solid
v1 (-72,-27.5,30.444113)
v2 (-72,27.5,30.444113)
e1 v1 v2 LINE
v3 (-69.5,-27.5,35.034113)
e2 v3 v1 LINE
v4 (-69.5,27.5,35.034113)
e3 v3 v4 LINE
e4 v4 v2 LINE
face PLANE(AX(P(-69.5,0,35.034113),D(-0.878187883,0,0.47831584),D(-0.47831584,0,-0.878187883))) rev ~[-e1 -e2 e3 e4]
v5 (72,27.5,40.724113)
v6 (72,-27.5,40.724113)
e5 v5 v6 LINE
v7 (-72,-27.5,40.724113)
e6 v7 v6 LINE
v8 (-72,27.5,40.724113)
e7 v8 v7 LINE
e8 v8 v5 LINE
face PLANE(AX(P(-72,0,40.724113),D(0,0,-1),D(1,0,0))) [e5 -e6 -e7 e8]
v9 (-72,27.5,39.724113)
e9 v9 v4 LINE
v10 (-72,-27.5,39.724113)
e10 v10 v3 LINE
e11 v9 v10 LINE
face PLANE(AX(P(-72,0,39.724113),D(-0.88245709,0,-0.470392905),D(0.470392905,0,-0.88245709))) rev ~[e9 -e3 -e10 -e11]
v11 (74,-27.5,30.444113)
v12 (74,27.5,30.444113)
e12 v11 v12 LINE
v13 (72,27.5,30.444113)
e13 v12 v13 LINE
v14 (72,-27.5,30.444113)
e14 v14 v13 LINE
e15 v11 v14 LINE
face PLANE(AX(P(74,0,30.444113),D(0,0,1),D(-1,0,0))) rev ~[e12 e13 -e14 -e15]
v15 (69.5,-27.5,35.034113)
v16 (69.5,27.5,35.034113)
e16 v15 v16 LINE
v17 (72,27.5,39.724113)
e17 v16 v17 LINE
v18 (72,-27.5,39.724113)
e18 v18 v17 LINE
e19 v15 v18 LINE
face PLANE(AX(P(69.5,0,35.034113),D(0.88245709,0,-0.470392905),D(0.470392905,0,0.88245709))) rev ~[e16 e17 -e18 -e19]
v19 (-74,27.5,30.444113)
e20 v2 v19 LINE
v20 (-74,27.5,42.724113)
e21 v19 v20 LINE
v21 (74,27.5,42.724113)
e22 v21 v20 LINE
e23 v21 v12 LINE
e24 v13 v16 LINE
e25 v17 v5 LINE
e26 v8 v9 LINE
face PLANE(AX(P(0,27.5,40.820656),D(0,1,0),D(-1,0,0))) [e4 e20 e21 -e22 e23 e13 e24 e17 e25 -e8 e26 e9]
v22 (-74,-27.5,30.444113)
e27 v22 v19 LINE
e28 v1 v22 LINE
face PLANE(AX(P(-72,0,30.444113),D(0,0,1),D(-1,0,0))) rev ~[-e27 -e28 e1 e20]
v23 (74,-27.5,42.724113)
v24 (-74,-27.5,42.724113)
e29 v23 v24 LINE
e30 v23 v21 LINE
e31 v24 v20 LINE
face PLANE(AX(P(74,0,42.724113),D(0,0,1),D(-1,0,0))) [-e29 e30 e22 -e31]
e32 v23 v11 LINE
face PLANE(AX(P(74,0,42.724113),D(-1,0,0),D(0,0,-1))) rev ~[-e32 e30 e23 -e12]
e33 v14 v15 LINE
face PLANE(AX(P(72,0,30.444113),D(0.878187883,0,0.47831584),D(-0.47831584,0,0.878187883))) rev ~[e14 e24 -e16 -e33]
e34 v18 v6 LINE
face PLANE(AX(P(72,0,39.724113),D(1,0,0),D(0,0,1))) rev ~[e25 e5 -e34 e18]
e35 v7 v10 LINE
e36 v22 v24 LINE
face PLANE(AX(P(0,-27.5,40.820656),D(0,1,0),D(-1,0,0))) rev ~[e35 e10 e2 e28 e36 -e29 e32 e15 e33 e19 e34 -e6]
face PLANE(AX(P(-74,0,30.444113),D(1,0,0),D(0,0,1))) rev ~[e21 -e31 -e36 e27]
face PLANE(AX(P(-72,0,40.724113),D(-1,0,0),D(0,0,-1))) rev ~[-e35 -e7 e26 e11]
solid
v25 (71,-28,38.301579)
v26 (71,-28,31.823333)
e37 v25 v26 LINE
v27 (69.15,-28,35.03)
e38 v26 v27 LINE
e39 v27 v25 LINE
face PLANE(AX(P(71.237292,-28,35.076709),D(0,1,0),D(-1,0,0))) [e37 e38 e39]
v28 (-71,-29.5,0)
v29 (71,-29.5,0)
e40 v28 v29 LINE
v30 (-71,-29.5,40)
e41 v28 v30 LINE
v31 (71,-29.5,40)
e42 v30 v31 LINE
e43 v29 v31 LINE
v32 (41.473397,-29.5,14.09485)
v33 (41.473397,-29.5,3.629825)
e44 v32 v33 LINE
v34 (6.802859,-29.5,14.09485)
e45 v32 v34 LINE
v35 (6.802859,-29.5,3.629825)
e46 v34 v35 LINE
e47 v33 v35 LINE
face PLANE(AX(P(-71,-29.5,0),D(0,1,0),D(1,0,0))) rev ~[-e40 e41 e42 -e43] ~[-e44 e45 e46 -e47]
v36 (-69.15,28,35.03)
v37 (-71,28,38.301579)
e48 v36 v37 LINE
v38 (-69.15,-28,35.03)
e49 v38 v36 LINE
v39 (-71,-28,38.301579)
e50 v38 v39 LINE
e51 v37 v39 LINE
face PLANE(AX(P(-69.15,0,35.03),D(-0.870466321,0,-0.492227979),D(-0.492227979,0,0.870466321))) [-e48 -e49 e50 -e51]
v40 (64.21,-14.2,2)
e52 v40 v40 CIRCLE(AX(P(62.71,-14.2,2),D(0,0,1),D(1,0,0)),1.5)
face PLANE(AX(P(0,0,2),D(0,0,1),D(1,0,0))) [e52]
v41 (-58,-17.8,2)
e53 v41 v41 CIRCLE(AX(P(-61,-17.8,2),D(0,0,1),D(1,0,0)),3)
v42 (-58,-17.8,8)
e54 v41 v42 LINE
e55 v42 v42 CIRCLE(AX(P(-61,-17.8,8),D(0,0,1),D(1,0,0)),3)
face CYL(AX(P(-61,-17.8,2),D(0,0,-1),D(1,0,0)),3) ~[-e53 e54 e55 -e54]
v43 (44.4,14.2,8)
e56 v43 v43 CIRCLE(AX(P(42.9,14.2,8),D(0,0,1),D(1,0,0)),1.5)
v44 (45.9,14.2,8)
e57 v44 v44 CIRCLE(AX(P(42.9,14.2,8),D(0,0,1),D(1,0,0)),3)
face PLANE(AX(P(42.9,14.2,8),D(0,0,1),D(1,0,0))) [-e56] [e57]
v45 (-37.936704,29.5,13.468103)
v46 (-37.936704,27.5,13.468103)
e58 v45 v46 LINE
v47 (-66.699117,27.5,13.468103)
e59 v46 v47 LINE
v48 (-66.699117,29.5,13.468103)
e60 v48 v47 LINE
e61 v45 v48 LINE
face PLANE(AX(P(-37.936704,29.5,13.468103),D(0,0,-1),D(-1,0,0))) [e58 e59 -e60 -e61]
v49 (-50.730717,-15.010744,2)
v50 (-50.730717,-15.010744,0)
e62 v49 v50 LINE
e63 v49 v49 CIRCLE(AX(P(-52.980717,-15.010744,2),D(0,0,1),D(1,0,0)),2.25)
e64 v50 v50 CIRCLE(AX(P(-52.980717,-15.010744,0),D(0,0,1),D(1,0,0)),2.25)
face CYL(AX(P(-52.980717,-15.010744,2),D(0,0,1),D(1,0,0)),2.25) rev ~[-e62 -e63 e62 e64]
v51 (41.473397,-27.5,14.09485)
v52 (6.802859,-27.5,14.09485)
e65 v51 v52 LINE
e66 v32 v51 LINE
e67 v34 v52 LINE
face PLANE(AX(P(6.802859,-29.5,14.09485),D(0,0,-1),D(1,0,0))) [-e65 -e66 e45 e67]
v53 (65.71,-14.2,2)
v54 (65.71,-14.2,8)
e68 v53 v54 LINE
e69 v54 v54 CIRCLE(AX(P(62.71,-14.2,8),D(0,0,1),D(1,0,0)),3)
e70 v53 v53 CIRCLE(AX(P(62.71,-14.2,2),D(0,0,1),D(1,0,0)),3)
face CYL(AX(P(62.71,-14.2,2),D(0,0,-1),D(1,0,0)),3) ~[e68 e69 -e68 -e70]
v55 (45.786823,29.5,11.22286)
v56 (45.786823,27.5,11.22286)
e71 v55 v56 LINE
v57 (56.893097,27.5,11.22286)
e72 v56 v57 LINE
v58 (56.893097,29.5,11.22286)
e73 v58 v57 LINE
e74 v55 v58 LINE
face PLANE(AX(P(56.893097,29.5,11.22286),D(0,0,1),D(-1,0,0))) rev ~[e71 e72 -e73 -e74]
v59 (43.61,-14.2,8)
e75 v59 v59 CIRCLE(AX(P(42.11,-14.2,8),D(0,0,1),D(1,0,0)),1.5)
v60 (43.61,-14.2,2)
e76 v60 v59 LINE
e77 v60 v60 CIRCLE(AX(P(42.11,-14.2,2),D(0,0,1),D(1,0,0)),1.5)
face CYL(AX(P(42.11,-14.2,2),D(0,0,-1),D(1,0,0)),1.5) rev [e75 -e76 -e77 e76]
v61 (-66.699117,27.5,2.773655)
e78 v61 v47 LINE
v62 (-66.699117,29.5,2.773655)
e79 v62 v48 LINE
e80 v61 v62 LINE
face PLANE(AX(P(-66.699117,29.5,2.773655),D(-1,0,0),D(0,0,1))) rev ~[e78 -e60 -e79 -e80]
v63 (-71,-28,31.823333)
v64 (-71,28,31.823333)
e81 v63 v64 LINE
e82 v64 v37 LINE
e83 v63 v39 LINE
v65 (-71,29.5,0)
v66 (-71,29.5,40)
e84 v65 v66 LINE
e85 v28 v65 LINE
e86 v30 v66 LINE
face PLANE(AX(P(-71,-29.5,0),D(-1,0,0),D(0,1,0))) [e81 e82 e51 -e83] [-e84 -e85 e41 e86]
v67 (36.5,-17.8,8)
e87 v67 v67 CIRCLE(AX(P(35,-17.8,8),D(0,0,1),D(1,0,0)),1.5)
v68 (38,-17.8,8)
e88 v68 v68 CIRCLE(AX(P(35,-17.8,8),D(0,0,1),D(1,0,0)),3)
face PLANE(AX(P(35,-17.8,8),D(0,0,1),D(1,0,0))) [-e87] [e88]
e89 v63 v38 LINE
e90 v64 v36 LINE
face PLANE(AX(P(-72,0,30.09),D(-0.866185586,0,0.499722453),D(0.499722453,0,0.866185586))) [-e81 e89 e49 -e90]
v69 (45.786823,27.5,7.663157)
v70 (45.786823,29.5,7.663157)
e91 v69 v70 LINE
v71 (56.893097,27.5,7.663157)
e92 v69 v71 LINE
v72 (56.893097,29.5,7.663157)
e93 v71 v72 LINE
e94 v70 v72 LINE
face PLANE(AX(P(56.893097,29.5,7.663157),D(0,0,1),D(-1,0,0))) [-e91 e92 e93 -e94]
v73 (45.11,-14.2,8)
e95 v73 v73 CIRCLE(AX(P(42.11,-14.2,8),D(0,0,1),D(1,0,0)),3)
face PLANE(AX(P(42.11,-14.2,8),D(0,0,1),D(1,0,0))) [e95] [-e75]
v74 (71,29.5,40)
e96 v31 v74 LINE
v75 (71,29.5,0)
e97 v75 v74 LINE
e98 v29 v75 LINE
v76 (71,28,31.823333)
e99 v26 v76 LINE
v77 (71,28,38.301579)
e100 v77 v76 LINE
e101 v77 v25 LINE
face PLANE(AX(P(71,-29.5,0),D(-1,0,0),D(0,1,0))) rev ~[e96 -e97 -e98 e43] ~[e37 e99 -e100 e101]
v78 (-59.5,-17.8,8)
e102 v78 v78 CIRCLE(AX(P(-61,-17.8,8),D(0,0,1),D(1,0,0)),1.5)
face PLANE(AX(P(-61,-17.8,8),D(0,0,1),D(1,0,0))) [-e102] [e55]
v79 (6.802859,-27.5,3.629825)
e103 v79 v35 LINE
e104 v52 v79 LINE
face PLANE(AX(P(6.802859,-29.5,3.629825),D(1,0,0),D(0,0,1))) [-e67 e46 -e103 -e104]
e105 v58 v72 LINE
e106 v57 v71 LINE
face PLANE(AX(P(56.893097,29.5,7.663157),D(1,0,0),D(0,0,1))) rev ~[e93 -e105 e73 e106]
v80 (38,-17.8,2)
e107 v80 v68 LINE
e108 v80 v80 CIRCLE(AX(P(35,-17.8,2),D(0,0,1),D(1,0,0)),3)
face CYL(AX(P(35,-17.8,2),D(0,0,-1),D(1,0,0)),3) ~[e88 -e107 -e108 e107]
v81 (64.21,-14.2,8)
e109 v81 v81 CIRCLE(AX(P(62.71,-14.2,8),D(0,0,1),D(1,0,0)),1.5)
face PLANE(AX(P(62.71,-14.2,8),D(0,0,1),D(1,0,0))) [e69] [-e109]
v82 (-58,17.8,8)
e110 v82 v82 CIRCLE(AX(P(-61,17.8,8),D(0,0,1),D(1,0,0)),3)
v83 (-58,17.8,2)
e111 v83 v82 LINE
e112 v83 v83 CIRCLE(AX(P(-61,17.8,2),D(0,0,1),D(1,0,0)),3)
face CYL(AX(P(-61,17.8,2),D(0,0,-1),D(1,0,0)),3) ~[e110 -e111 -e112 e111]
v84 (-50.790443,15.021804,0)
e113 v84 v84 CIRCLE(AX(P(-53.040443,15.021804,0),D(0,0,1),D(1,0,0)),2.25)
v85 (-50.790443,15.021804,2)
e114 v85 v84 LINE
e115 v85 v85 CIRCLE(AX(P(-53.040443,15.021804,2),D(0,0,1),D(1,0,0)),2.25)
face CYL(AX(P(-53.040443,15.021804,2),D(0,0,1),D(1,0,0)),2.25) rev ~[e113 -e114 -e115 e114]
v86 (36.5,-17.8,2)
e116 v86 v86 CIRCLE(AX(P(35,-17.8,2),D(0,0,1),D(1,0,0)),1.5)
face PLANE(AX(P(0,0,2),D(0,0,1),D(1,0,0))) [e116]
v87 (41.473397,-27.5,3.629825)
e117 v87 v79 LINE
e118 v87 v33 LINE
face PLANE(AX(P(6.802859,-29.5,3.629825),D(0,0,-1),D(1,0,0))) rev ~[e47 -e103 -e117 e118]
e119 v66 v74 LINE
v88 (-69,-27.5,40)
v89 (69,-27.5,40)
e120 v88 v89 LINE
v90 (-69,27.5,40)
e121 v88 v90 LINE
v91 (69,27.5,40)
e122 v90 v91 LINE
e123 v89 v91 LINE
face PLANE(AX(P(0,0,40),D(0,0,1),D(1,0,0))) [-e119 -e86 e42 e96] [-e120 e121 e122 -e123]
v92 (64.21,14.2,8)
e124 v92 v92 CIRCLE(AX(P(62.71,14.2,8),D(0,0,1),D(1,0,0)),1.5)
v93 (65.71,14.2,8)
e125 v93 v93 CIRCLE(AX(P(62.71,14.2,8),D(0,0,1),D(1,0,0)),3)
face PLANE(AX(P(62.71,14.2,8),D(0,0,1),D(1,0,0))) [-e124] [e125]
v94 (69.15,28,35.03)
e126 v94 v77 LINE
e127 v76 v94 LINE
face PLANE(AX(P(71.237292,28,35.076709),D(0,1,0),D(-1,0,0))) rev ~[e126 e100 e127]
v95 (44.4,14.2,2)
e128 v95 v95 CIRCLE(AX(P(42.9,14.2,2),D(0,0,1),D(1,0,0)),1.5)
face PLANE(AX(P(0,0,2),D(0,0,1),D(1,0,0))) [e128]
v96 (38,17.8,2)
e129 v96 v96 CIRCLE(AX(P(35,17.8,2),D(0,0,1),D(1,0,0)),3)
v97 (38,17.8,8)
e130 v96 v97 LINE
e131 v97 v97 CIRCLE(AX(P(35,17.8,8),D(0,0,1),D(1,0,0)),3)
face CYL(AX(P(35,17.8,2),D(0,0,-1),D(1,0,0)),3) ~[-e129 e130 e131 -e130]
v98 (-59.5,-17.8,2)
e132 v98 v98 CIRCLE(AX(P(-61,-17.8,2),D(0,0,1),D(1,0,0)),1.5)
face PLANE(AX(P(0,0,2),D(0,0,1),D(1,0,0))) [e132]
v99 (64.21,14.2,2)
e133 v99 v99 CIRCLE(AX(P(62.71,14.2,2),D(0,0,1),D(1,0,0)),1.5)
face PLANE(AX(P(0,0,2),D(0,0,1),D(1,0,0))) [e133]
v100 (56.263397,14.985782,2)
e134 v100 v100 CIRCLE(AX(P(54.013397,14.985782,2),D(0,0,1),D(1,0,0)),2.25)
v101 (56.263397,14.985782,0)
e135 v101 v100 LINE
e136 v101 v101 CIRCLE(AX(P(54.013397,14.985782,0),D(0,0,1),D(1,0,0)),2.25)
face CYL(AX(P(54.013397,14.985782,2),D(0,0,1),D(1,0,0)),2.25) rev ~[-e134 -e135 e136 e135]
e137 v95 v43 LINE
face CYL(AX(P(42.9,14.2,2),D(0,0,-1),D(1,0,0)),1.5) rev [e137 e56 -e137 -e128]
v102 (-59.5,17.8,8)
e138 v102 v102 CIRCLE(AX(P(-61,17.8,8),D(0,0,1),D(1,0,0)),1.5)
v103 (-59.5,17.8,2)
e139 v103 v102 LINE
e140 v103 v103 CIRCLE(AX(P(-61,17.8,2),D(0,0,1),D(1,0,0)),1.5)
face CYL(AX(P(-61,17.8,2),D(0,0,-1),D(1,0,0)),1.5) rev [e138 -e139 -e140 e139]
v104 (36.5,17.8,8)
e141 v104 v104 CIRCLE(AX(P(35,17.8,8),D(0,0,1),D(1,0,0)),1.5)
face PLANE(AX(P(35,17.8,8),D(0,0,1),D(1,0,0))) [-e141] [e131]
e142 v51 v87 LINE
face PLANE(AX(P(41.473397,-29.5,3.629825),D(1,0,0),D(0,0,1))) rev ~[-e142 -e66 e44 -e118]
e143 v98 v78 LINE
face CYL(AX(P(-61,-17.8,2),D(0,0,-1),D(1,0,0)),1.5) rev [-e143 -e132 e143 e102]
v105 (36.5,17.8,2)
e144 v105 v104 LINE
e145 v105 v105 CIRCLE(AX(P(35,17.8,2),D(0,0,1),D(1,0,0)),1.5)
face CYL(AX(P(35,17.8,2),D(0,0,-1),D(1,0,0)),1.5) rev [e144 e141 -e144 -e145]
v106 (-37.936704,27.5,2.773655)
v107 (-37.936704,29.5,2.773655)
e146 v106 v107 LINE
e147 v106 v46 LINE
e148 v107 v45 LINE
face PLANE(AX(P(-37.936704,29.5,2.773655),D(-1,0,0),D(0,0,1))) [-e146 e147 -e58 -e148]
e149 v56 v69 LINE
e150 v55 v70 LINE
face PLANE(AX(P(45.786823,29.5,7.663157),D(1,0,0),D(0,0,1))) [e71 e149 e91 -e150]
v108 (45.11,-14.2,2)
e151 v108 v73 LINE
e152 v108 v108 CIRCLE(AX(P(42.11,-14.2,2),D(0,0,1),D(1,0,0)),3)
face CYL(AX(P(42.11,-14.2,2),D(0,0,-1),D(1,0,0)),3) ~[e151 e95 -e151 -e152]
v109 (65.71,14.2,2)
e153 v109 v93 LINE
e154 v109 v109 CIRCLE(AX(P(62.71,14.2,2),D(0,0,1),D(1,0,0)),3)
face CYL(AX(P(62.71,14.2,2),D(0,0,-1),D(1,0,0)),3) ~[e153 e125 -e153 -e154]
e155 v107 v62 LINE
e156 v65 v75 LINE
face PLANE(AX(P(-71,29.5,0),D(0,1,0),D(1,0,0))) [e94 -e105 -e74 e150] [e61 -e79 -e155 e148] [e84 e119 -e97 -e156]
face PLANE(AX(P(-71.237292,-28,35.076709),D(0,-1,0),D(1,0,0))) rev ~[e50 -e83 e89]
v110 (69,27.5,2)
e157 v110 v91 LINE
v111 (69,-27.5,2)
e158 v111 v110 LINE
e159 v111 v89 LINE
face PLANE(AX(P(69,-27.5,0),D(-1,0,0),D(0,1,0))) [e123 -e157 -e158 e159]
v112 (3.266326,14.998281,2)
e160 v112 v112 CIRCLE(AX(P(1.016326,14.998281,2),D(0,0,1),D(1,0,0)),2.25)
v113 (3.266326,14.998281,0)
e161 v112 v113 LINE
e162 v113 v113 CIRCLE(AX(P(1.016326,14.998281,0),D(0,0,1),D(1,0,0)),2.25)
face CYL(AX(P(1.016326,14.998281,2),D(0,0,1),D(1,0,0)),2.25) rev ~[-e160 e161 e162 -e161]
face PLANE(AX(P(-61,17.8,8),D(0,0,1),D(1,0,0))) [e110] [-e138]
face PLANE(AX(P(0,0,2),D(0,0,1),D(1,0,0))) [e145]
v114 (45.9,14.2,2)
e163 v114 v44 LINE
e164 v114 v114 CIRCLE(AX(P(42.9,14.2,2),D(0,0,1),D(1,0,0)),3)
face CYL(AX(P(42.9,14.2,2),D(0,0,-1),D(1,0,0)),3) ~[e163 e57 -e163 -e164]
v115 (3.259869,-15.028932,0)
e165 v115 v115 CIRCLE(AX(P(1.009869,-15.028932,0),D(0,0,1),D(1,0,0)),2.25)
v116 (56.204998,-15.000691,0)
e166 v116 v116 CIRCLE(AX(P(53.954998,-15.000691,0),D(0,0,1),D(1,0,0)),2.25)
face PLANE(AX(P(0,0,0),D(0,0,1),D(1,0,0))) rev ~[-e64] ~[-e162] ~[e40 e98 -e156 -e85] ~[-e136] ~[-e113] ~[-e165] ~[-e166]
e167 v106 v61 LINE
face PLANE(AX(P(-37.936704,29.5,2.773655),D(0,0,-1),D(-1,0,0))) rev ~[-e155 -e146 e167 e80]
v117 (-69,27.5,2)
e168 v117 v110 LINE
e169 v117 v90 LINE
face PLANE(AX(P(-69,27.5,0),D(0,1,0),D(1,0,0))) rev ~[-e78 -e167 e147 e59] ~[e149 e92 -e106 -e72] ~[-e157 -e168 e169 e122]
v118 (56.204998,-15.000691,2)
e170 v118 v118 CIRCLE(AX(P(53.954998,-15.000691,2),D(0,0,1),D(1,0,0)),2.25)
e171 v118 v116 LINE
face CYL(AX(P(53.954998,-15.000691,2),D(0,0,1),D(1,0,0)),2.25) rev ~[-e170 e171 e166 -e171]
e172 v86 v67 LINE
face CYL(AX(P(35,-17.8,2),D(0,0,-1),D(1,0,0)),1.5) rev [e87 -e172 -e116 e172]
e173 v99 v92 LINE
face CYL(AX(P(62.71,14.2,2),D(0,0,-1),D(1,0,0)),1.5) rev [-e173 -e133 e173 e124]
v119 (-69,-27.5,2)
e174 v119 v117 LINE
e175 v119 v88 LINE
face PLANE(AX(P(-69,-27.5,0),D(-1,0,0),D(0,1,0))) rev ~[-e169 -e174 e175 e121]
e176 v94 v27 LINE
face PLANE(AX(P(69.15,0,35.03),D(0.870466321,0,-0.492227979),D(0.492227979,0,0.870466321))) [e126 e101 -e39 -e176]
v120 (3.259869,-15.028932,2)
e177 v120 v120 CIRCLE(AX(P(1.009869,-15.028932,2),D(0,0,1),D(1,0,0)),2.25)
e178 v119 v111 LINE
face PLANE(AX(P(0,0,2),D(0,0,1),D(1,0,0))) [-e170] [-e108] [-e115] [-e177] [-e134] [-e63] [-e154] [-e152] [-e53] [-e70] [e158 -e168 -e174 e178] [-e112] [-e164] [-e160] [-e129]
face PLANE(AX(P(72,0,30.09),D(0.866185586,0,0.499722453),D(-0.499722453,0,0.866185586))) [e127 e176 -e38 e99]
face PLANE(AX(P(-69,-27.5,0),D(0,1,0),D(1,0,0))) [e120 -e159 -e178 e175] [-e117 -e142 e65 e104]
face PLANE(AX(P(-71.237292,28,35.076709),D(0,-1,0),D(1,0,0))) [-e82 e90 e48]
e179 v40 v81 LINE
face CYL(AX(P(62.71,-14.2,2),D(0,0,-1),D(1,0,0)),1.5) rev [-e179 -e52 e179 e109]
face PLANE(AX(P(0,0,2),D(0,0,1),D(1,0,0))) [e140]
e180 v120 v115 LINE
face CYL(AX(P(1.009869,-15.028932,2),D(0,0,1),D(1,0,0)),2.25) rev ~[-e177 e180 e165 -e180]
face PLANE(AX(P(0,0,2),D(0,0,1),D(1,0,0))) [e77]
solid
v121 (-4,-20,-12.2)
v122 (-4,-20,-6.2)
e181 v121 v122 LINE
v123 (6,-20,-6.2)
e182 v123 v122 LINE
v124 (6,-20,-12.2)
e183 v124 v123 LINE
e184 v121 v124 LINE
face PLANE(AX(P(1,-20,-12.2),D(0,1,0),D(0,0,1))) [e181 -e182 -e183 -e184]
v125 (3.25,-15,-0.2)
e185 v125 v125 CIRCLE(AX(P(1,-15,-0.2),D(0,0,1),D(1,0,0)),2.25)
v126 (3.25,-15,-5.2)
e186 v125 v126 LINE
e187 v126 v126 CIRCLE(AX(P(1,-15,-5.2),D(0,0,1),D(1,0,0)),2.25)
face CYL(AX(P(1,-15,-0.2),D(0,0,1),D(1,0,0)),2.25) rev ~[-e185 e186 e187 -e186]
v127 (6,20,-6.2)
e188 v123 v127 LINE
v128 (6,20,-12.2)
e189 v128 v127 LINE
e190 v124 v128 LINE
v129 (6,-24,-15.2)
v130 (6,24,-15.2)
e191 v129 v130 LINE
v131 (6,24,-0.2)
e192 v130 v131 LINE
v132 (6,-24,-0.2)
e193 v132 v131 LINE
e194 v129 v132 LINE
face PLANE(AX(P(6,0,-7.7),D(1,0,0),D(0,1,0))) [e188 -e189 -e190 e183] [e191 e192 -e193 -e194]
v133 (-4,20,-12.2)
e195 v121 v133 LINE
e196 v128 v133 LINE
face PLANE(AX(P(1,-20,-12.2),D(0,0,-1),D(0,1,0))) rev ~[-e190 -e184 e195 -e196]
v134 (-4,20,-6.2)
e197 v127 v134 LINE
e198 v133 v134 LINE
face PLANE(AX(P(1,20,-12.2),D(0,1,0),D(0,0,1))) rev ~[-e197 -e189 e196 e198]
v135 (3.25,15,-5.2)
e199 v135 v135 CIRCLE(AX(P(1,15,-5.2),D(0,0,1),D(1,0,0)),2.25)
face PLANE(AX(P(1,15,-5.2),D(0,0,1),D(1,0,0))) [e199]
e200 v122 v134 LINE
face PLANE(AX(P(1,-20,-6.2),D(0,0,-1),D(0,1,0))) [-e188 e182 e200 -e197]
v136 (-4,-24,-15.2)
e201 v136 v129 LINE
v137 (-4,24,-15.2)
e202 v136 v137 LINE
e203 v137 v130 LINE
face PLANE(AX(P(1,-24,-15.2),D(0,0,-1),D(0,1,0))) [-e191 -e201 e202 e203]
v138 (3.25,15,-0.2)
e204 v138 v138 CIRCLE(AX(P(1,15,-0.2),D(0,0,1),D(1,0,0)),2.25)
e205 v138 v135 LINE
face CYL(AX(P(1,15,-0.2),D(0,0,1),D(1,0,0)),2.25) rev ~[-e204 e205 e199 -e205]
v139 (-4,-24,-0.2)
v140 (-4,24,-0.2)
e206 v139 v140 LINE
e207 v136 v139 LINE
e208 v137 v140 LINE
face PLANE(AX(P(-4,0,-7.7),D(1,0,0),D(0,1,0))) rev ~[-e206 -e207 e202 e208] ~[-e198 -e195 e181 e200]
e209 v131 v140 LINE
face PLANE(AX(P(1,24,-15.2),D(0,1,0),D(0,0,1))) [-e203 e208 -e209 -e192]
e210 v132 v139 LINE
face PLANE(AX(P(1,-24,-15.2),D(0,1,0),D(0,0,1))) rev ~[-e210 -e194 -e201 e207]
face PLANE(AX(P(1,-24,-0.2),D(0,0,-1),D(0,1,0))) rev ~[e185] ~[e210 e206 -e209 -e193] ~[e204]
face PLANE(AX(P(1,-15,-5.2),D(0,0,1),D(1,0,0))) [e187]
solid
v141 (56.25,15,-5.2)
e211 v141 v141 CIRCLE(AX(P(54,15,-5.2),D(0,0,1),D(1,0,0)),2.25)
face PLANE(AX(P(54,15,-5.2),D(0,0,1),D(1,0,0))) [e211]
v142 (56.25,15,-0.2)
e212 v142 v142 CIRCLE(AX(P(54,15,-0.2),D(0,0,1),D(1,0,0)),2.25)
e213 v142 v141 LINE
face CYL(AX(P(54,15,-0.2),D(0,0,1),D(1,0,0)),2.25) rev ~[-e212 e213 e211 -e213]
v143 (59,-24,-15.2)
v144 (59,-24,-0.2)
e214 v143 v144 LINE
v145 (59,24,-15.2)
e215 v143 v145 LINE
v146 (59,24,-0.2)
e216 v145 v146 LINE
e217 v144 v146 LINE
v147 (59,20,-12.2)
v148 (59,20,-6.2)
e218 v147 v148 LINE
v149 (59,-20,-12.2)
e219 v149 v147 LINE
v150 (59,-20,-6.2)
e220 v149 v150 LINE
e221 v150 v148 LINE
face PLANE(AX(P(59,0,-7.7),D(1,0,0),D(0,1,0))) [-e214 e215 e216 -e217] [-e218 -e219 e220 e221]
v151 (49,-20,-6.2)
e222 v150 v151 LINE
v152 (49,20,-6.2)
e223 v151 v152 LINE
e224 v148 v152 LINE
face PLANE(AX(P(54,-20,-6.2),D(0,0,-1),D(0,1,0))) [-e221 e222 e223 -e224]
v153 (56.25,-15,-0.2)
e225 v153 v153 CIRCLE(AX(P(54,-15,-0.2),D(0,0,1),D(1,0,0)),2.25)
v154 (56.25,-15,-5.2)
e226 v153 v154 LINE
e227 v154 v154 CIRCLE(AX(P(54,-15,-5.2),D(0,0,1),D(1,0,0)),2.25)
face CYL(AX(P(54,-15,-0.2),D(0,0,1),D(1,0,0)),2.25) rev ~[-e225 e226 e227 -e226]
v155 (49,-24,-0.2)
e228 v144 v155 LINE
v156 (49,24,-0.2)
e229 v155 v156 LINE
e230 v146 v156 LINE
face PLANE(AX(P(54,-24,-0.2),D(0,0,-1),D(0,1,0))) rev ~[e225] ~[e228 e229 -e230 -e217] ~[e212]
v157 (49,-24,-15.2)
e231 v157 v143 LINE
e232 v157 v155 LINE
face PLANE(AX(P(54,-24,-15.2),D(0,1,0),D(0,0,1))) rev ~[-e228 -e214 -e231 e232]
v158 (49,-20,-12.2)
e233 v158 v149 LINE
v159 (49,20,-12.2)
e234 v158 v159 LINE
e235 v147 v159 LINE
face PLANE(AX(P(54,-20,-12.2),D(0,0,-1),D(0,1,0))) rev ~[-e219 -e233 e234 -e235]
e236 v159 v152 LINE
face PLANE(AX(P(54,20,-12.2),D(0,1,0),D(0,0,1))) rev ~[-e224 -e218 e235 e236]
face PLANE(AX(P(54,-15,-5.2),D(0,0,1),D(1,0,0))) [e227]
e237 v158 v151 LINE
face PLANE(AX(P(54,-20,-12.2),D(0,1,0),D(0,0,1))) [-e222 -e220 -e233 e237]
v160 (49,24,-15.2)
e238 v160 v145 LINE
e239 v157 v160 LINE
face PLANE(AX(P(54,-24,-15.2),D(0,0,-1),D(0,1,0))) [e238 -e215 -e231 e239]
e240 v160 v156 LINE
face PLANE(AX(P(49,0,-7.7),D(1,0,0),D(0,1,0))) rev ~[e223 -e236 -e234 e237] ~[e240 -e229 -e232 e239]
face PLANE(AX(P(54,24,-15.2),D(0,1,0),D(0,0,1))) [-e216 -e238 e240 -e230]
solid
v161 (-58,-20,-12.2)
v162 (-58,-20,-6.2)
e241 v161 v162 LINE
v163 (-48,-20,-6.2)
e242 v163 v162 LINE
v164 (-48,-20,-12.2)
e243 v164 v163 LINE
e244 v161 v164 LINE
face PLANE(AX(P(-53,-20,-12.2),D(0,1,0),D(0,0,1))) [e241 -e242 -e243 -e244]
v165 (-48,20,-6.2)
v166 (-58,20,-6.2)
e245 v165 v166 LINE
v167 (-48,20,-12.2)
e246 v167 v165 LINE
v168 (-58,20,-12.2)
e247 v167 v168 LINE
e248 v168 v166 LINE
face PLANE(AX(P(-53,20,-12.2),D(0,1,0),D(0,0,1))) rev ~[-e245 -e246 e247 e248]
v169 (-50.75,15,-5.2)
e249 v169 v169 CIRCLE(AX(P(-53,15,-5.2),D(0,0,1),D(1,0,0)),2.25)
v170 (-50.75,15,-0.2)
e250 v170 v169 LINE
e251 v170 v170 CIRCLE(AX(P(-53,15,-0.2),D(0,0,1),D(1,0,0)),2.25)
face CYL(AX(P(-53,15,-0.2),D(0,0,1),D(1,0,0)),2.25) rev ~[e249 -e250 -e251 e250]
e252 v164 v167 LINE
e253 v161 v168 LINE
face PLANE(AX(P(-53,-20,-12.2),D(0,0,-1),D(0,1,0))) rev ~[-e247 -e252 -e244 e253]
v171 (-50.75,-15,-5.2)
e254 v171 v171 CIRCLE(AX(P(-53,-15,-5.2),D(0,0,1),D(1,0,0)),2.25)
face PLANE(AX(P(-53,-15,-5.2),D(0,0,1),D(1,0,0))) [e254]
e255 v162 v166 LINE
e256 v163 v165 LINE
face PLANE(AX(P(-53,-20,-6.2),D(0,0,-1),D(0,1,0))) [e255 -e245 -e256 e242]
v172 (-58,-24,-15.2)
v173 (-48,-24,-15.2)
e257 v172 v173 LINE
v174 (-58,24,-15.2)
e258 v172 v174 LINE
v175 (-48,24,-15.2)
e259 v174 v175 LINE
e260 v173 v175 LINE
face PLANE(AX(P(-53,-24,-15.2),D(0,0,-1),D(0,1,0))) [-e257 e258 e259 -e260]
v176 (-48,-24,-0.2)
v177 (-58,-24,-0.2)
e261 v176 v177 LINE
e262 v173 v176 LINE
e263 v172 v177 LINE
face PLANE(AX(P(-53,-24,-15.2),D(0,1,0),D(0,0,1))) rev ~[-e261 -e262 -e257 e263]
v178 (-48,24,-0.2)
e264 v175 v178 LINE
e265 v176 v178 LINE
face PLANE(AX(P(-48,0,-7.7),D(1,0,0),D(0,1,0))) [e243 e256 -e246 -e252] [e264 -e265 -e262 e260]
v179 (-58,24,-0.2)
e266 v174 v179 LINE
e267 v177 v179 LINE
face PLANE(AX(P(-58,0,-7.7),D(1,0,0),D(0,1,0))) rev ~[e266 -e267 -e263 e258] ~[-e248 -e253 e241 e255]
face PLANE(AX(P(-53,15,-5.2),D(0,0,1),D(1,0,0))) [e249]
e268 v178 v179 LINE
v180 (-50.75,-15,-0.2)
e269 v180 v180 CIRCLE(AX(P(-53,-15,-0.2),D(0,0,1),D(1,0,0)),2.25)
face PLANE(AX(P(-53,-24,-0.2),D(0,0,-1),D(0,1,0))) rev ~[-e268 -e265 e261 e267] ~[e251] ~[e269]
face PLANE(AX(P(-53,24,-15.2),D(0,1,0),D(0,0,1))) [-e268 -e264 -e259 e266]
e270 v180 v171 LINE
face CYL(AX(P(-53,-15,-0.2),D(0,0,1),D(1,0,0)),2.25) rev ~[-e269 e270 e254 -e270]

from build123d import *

# Parameters (mm, degrees)
EXTRUDE003_DEPTH = 27.5
SKETCH009_R      = 2.25
EXTRUDE008_DEPTH = 5
SKETCH008_W      = 48
SKETCH008_H      = 15
SKETCH008_W_2    = 40
SKETCH008_H_2    = 6
EXTRUDE007_DEPTH = 5
SKETCH010_R      = 2.25
EXTRUDE009_DEPTH = 5
SKETCH007_W      = 34.670539
SKETCH007_H      = 10.465025
EXTRUDE006_DEPTH = 5
SKETCH005_W      = 11.106274
SKETCH005_H      = 3.559703
SKETCH005_W_2    = 28.762413
SKETCH005_H_2    = 10.694447
EXTRUDE005_DEPTH = 5
EXTRUDE004_DEPTH = 28
SKETCH002_R      = 3
SKETCH002_R_2    = 1.5
EXTRUDE002_DEPTH = 6
SKETCH001_W      = 142
SKETCH001_H      = 59
SKETCH001_W_2    = 138
SKETCH001_H_2    = 55
EXTRUDE001_DEPTH = 40
SKETCH_W         = 138
SKETCH_H         = 55
EXTRUDE_DEPTH    = 2


with BuildPart() as lid:
    # Sketch003 → Extrude003 (new body, symmetric)
    with BuildSketch(Plane.XZ):
        Polygon((-72, 39.724113), (-69.5, 35.034113), (-72, 30.444113), (-74, 30.444113), (-74, 42.724113), (0, 42.724113), (74, 42.724113), (74, 30.444113), (72, 30.444113), (69.5, 35.034113), (72, 39.724113), (72, 40.724113), (0, 40.724113), (-72, 40.724113), align=None)
    extrude(amount=EXTRUDE003_DEPTH, both=True)


with BuildPart() as extrude008:
    # Sketch009 (on Face1 of Extrude007) → Extrude008 (new body)
    with BuildSketch(Plane.XY.offset(-0.2)):
        with Locations((0, 15)):
            Circle(SKETCH009_R)
        with Locations((0, -15)):
            Circle(SKETCH009_R)
    extrude(amount=-EXTRUDE008_DEPTH)


with BuildPart() as extrude007:
    # Sketch008 → Extrude007 (new body, symmetric)
    with BuildSketch(Plane.YZ):
        with Locations((0, -7.7)):
            Rectangle(SKETCH008_W, SKETCH008_H)
        with Locations((0, -9.2)):
            Rectangle(SKETCH008_W_2, SKETCH008_H_2, mode=Mode.SUBTRACT)
    extrude(amount=EXTRUDE007_DEPTH, both=True)


with BuildPart() as belt_holder:
    # Cut003 base: copy of Extrude007
    add(extrude007.part)

    # Cut003: cut Extrude008
    add(extrude008.part, mode=Mode.SUBTRACT)


with BuildPart() as belt_holder_1:
    # Cut003 placement: moved
    add(belt_holder.part.moved(Location((-53, 0, 0))))


with BuildPart() as belt_holder001:
    # Cut004 base: copy of Extrude007
    add(extrude007.part)

    # Cut004: cut Extrude008
    add(extrude008.part, mode=Mode.SUBTRACT)


with BuildPart() as belt_holder001_1:
    # Cut004 placement: moved
    add(belt_holder001.part.moved(Location((54, 0, 0))))


with BuildPart() as belt_holder002:
    # Cut005 base: copy of Extrude007
    add(extrude007.part)

    # Cut005: cut Extrude008
    add(extrude008.part, mode=Mode.SUBTRACT)


with BuildPart() as belt_holder002_1:
    # Cut005 placement: moved
    add(belt_holder002.part.moved(Location((1, 0, 0))))


with BuildPart() as extrude009:
    # Sketch010 (on Face32 of Cut002) → Extrude009 (new body, symmetric)
    with BuildSketch(Plane.XY.offset(2)):
        with Locations((1.016326, 14.998281)):
            Circle(SKETCH010_R)
        with Locations((-53.040443, 15.021804)):
            Circle(SKETCH010_R)
        with Locations((-52.980717, -15.010744)):
            Circle(SKETCH010_R)
        with Locations((1.009869, -15.028932)):
            Circle(SKETCH010_R)
        with Locations((53.954998, -15.000691)):
            Circle(SKETCH010_R)
        with Locations((54.013397, 14.985782)):
            Circle(SKETCH010_R)
    extrude(amount=EXTRUDE009_DEPTH, both=True)


with BuildPart() as extrude006:
    # Sketch007 (on Face5 of Cut001) → Extrude006 (new body, symmetric)
    with BuildSketch(Plane.XZ.offset(29.5)):
        with Locations((24.138128, 8.862338)):
            Rectangle(SKETCH007_W, SKETCH007_H)
    extrude(amount=EXTRUDE006_DEPTH, both=True)


with BuildPart() as extrude005:
    # Sketch005 (on Face3 of Cut) → Extrude005 (new body, symmetric)
    with BuildSketch(Plane(origin=(0, 29.5, 0), x_dir=(-1, 0, 0), z_dir=(0, 1, 0))):
        with Locations((-51.33996, 9.443008)):
            Rectangle(SKETCH005_W, SKETCH005_H)
        with Locations((52.317911, 8.120879)):
            Rectangle(SKETCH005_W_2, SKETCH005_H_2)
    extrude(amount=EXTRUDE005_DEPTH, both=True)


with BuildPart() as extrude004:
    # Sketch004 → Extrude004 (new body, symmetric)
    with BuildSketch(Plane.XZ):
        Polygon((-72, 40.07), (-72, 30.09), (-69.15, 35.03), align=None)
        Polygon((72, 40.07), (72, 30.09), (69.15, 35.03), align=None)
    extrude(amount=EXTRUDE004_DEPTH, both=True)


with BuildPart() as extrude002:
    # Sketch002 (on Face12 of Fusion) → Extrude002 (new body)
    with BuildSketch(Plane.XY.offset(2)):
        with Locations((-61, 17.8)):
            Circle(SKETCH002_R)
        with Locations((-61, 17.8)):
            Circle(SKETCH002_R_2, mode=Mode.SUBTRACT)
        with Locations((42.9, 14.2)):
            Circle(SKETCH002_R)
        with Locations((42.9, 14.2)):
            Circle(SKETCH002_R_2, mode=Mode.SUBTRACT)
        with Locations((62.71, 14.2)):
            Circle(SKETCH002_R)
        with Locations((62.71, 14.2)):
            Circle(SKETCH002_R_2, mode=Mode.SUBTRACT)
        with Locations((42.11, -14.2)):
            Circle(SKETCH002_R)
        with Locations((42.11, -14.2)):
            Circle(SKETCH002_R_2, mode=Mode.SUBTRACT)
        with Locations((62.71, -14.2)):
            Circle(SKETCH002_R)
        with Locations((62.71, -14.2)):
            Circle(SKETCH002_R_2, mode=Mode.SUBTRACT)
        with Locations((35, 17.8)):
            Circle(SKETCH002_R)
        with Locations((35, 17.8)):
            Circle(SKETCH002_R_2, mode=Mode.SUBTRACT)
        with Locations((-61, -17.8)):
            Circle(SKETCH002_R)
        with Locations((-61, -17.8)):
            Circle(SKETCH002_R_2, mode=Mode.SUBTRACT)
        with Locations((35, -17.8)):
            Circle(SKETCH002_R)
        with Locations((35, -17.8)):
            Circle(SKETCH002_R_2, mode=Mode.SUBTRACT)
    extrude(amount=EXTRUDE002_DEPTH)


with BuildPart() as extrude001:
    # Sketch001 → Extrude001 (new body)
    with BuildSketch(Plane.XY):
        Rectangle(SKETCH001_W, SKETCH001_H)
        Rectangle(SKETCH001_W_2, SKETCH001_H_2, mode=Mode.SUBTRACT)
    extrude(amount=EXTRUDE001_DEPTH)


with BuildPart() as cut006:
    # Sketch → Extrude (new body)
    with BuildSketch(Plane.XY):
        Rectangle(SKETCH_W, SKETCH_H)
    extrude(amount=EXTRUDE_DEPTH)

    # Fusion: union Extrude001
    add(extrude001.part)

    # Fusion001: union Extrude002
    add(extrude002.part)

    # Cut: cut Extrude004
    add(extrude004.part, mode=Mode.SUBTRACT)

    # Cut001: cut Extrude005
    add(extrude005.part, mode=Mode.SUBTRACT)

    # Cut002: cut Extrude006
    add(extrude006.part, mode=Mode.SUBTRACT)

    # Cut006: cut Extrude009
    add(extrude009.part, mode=Mode.SUBTRACT)


solid = Compound([lid.part, belt_holder_1.part, belt_holder001_1.part, belt_holder002_1.part, cut006.part])
